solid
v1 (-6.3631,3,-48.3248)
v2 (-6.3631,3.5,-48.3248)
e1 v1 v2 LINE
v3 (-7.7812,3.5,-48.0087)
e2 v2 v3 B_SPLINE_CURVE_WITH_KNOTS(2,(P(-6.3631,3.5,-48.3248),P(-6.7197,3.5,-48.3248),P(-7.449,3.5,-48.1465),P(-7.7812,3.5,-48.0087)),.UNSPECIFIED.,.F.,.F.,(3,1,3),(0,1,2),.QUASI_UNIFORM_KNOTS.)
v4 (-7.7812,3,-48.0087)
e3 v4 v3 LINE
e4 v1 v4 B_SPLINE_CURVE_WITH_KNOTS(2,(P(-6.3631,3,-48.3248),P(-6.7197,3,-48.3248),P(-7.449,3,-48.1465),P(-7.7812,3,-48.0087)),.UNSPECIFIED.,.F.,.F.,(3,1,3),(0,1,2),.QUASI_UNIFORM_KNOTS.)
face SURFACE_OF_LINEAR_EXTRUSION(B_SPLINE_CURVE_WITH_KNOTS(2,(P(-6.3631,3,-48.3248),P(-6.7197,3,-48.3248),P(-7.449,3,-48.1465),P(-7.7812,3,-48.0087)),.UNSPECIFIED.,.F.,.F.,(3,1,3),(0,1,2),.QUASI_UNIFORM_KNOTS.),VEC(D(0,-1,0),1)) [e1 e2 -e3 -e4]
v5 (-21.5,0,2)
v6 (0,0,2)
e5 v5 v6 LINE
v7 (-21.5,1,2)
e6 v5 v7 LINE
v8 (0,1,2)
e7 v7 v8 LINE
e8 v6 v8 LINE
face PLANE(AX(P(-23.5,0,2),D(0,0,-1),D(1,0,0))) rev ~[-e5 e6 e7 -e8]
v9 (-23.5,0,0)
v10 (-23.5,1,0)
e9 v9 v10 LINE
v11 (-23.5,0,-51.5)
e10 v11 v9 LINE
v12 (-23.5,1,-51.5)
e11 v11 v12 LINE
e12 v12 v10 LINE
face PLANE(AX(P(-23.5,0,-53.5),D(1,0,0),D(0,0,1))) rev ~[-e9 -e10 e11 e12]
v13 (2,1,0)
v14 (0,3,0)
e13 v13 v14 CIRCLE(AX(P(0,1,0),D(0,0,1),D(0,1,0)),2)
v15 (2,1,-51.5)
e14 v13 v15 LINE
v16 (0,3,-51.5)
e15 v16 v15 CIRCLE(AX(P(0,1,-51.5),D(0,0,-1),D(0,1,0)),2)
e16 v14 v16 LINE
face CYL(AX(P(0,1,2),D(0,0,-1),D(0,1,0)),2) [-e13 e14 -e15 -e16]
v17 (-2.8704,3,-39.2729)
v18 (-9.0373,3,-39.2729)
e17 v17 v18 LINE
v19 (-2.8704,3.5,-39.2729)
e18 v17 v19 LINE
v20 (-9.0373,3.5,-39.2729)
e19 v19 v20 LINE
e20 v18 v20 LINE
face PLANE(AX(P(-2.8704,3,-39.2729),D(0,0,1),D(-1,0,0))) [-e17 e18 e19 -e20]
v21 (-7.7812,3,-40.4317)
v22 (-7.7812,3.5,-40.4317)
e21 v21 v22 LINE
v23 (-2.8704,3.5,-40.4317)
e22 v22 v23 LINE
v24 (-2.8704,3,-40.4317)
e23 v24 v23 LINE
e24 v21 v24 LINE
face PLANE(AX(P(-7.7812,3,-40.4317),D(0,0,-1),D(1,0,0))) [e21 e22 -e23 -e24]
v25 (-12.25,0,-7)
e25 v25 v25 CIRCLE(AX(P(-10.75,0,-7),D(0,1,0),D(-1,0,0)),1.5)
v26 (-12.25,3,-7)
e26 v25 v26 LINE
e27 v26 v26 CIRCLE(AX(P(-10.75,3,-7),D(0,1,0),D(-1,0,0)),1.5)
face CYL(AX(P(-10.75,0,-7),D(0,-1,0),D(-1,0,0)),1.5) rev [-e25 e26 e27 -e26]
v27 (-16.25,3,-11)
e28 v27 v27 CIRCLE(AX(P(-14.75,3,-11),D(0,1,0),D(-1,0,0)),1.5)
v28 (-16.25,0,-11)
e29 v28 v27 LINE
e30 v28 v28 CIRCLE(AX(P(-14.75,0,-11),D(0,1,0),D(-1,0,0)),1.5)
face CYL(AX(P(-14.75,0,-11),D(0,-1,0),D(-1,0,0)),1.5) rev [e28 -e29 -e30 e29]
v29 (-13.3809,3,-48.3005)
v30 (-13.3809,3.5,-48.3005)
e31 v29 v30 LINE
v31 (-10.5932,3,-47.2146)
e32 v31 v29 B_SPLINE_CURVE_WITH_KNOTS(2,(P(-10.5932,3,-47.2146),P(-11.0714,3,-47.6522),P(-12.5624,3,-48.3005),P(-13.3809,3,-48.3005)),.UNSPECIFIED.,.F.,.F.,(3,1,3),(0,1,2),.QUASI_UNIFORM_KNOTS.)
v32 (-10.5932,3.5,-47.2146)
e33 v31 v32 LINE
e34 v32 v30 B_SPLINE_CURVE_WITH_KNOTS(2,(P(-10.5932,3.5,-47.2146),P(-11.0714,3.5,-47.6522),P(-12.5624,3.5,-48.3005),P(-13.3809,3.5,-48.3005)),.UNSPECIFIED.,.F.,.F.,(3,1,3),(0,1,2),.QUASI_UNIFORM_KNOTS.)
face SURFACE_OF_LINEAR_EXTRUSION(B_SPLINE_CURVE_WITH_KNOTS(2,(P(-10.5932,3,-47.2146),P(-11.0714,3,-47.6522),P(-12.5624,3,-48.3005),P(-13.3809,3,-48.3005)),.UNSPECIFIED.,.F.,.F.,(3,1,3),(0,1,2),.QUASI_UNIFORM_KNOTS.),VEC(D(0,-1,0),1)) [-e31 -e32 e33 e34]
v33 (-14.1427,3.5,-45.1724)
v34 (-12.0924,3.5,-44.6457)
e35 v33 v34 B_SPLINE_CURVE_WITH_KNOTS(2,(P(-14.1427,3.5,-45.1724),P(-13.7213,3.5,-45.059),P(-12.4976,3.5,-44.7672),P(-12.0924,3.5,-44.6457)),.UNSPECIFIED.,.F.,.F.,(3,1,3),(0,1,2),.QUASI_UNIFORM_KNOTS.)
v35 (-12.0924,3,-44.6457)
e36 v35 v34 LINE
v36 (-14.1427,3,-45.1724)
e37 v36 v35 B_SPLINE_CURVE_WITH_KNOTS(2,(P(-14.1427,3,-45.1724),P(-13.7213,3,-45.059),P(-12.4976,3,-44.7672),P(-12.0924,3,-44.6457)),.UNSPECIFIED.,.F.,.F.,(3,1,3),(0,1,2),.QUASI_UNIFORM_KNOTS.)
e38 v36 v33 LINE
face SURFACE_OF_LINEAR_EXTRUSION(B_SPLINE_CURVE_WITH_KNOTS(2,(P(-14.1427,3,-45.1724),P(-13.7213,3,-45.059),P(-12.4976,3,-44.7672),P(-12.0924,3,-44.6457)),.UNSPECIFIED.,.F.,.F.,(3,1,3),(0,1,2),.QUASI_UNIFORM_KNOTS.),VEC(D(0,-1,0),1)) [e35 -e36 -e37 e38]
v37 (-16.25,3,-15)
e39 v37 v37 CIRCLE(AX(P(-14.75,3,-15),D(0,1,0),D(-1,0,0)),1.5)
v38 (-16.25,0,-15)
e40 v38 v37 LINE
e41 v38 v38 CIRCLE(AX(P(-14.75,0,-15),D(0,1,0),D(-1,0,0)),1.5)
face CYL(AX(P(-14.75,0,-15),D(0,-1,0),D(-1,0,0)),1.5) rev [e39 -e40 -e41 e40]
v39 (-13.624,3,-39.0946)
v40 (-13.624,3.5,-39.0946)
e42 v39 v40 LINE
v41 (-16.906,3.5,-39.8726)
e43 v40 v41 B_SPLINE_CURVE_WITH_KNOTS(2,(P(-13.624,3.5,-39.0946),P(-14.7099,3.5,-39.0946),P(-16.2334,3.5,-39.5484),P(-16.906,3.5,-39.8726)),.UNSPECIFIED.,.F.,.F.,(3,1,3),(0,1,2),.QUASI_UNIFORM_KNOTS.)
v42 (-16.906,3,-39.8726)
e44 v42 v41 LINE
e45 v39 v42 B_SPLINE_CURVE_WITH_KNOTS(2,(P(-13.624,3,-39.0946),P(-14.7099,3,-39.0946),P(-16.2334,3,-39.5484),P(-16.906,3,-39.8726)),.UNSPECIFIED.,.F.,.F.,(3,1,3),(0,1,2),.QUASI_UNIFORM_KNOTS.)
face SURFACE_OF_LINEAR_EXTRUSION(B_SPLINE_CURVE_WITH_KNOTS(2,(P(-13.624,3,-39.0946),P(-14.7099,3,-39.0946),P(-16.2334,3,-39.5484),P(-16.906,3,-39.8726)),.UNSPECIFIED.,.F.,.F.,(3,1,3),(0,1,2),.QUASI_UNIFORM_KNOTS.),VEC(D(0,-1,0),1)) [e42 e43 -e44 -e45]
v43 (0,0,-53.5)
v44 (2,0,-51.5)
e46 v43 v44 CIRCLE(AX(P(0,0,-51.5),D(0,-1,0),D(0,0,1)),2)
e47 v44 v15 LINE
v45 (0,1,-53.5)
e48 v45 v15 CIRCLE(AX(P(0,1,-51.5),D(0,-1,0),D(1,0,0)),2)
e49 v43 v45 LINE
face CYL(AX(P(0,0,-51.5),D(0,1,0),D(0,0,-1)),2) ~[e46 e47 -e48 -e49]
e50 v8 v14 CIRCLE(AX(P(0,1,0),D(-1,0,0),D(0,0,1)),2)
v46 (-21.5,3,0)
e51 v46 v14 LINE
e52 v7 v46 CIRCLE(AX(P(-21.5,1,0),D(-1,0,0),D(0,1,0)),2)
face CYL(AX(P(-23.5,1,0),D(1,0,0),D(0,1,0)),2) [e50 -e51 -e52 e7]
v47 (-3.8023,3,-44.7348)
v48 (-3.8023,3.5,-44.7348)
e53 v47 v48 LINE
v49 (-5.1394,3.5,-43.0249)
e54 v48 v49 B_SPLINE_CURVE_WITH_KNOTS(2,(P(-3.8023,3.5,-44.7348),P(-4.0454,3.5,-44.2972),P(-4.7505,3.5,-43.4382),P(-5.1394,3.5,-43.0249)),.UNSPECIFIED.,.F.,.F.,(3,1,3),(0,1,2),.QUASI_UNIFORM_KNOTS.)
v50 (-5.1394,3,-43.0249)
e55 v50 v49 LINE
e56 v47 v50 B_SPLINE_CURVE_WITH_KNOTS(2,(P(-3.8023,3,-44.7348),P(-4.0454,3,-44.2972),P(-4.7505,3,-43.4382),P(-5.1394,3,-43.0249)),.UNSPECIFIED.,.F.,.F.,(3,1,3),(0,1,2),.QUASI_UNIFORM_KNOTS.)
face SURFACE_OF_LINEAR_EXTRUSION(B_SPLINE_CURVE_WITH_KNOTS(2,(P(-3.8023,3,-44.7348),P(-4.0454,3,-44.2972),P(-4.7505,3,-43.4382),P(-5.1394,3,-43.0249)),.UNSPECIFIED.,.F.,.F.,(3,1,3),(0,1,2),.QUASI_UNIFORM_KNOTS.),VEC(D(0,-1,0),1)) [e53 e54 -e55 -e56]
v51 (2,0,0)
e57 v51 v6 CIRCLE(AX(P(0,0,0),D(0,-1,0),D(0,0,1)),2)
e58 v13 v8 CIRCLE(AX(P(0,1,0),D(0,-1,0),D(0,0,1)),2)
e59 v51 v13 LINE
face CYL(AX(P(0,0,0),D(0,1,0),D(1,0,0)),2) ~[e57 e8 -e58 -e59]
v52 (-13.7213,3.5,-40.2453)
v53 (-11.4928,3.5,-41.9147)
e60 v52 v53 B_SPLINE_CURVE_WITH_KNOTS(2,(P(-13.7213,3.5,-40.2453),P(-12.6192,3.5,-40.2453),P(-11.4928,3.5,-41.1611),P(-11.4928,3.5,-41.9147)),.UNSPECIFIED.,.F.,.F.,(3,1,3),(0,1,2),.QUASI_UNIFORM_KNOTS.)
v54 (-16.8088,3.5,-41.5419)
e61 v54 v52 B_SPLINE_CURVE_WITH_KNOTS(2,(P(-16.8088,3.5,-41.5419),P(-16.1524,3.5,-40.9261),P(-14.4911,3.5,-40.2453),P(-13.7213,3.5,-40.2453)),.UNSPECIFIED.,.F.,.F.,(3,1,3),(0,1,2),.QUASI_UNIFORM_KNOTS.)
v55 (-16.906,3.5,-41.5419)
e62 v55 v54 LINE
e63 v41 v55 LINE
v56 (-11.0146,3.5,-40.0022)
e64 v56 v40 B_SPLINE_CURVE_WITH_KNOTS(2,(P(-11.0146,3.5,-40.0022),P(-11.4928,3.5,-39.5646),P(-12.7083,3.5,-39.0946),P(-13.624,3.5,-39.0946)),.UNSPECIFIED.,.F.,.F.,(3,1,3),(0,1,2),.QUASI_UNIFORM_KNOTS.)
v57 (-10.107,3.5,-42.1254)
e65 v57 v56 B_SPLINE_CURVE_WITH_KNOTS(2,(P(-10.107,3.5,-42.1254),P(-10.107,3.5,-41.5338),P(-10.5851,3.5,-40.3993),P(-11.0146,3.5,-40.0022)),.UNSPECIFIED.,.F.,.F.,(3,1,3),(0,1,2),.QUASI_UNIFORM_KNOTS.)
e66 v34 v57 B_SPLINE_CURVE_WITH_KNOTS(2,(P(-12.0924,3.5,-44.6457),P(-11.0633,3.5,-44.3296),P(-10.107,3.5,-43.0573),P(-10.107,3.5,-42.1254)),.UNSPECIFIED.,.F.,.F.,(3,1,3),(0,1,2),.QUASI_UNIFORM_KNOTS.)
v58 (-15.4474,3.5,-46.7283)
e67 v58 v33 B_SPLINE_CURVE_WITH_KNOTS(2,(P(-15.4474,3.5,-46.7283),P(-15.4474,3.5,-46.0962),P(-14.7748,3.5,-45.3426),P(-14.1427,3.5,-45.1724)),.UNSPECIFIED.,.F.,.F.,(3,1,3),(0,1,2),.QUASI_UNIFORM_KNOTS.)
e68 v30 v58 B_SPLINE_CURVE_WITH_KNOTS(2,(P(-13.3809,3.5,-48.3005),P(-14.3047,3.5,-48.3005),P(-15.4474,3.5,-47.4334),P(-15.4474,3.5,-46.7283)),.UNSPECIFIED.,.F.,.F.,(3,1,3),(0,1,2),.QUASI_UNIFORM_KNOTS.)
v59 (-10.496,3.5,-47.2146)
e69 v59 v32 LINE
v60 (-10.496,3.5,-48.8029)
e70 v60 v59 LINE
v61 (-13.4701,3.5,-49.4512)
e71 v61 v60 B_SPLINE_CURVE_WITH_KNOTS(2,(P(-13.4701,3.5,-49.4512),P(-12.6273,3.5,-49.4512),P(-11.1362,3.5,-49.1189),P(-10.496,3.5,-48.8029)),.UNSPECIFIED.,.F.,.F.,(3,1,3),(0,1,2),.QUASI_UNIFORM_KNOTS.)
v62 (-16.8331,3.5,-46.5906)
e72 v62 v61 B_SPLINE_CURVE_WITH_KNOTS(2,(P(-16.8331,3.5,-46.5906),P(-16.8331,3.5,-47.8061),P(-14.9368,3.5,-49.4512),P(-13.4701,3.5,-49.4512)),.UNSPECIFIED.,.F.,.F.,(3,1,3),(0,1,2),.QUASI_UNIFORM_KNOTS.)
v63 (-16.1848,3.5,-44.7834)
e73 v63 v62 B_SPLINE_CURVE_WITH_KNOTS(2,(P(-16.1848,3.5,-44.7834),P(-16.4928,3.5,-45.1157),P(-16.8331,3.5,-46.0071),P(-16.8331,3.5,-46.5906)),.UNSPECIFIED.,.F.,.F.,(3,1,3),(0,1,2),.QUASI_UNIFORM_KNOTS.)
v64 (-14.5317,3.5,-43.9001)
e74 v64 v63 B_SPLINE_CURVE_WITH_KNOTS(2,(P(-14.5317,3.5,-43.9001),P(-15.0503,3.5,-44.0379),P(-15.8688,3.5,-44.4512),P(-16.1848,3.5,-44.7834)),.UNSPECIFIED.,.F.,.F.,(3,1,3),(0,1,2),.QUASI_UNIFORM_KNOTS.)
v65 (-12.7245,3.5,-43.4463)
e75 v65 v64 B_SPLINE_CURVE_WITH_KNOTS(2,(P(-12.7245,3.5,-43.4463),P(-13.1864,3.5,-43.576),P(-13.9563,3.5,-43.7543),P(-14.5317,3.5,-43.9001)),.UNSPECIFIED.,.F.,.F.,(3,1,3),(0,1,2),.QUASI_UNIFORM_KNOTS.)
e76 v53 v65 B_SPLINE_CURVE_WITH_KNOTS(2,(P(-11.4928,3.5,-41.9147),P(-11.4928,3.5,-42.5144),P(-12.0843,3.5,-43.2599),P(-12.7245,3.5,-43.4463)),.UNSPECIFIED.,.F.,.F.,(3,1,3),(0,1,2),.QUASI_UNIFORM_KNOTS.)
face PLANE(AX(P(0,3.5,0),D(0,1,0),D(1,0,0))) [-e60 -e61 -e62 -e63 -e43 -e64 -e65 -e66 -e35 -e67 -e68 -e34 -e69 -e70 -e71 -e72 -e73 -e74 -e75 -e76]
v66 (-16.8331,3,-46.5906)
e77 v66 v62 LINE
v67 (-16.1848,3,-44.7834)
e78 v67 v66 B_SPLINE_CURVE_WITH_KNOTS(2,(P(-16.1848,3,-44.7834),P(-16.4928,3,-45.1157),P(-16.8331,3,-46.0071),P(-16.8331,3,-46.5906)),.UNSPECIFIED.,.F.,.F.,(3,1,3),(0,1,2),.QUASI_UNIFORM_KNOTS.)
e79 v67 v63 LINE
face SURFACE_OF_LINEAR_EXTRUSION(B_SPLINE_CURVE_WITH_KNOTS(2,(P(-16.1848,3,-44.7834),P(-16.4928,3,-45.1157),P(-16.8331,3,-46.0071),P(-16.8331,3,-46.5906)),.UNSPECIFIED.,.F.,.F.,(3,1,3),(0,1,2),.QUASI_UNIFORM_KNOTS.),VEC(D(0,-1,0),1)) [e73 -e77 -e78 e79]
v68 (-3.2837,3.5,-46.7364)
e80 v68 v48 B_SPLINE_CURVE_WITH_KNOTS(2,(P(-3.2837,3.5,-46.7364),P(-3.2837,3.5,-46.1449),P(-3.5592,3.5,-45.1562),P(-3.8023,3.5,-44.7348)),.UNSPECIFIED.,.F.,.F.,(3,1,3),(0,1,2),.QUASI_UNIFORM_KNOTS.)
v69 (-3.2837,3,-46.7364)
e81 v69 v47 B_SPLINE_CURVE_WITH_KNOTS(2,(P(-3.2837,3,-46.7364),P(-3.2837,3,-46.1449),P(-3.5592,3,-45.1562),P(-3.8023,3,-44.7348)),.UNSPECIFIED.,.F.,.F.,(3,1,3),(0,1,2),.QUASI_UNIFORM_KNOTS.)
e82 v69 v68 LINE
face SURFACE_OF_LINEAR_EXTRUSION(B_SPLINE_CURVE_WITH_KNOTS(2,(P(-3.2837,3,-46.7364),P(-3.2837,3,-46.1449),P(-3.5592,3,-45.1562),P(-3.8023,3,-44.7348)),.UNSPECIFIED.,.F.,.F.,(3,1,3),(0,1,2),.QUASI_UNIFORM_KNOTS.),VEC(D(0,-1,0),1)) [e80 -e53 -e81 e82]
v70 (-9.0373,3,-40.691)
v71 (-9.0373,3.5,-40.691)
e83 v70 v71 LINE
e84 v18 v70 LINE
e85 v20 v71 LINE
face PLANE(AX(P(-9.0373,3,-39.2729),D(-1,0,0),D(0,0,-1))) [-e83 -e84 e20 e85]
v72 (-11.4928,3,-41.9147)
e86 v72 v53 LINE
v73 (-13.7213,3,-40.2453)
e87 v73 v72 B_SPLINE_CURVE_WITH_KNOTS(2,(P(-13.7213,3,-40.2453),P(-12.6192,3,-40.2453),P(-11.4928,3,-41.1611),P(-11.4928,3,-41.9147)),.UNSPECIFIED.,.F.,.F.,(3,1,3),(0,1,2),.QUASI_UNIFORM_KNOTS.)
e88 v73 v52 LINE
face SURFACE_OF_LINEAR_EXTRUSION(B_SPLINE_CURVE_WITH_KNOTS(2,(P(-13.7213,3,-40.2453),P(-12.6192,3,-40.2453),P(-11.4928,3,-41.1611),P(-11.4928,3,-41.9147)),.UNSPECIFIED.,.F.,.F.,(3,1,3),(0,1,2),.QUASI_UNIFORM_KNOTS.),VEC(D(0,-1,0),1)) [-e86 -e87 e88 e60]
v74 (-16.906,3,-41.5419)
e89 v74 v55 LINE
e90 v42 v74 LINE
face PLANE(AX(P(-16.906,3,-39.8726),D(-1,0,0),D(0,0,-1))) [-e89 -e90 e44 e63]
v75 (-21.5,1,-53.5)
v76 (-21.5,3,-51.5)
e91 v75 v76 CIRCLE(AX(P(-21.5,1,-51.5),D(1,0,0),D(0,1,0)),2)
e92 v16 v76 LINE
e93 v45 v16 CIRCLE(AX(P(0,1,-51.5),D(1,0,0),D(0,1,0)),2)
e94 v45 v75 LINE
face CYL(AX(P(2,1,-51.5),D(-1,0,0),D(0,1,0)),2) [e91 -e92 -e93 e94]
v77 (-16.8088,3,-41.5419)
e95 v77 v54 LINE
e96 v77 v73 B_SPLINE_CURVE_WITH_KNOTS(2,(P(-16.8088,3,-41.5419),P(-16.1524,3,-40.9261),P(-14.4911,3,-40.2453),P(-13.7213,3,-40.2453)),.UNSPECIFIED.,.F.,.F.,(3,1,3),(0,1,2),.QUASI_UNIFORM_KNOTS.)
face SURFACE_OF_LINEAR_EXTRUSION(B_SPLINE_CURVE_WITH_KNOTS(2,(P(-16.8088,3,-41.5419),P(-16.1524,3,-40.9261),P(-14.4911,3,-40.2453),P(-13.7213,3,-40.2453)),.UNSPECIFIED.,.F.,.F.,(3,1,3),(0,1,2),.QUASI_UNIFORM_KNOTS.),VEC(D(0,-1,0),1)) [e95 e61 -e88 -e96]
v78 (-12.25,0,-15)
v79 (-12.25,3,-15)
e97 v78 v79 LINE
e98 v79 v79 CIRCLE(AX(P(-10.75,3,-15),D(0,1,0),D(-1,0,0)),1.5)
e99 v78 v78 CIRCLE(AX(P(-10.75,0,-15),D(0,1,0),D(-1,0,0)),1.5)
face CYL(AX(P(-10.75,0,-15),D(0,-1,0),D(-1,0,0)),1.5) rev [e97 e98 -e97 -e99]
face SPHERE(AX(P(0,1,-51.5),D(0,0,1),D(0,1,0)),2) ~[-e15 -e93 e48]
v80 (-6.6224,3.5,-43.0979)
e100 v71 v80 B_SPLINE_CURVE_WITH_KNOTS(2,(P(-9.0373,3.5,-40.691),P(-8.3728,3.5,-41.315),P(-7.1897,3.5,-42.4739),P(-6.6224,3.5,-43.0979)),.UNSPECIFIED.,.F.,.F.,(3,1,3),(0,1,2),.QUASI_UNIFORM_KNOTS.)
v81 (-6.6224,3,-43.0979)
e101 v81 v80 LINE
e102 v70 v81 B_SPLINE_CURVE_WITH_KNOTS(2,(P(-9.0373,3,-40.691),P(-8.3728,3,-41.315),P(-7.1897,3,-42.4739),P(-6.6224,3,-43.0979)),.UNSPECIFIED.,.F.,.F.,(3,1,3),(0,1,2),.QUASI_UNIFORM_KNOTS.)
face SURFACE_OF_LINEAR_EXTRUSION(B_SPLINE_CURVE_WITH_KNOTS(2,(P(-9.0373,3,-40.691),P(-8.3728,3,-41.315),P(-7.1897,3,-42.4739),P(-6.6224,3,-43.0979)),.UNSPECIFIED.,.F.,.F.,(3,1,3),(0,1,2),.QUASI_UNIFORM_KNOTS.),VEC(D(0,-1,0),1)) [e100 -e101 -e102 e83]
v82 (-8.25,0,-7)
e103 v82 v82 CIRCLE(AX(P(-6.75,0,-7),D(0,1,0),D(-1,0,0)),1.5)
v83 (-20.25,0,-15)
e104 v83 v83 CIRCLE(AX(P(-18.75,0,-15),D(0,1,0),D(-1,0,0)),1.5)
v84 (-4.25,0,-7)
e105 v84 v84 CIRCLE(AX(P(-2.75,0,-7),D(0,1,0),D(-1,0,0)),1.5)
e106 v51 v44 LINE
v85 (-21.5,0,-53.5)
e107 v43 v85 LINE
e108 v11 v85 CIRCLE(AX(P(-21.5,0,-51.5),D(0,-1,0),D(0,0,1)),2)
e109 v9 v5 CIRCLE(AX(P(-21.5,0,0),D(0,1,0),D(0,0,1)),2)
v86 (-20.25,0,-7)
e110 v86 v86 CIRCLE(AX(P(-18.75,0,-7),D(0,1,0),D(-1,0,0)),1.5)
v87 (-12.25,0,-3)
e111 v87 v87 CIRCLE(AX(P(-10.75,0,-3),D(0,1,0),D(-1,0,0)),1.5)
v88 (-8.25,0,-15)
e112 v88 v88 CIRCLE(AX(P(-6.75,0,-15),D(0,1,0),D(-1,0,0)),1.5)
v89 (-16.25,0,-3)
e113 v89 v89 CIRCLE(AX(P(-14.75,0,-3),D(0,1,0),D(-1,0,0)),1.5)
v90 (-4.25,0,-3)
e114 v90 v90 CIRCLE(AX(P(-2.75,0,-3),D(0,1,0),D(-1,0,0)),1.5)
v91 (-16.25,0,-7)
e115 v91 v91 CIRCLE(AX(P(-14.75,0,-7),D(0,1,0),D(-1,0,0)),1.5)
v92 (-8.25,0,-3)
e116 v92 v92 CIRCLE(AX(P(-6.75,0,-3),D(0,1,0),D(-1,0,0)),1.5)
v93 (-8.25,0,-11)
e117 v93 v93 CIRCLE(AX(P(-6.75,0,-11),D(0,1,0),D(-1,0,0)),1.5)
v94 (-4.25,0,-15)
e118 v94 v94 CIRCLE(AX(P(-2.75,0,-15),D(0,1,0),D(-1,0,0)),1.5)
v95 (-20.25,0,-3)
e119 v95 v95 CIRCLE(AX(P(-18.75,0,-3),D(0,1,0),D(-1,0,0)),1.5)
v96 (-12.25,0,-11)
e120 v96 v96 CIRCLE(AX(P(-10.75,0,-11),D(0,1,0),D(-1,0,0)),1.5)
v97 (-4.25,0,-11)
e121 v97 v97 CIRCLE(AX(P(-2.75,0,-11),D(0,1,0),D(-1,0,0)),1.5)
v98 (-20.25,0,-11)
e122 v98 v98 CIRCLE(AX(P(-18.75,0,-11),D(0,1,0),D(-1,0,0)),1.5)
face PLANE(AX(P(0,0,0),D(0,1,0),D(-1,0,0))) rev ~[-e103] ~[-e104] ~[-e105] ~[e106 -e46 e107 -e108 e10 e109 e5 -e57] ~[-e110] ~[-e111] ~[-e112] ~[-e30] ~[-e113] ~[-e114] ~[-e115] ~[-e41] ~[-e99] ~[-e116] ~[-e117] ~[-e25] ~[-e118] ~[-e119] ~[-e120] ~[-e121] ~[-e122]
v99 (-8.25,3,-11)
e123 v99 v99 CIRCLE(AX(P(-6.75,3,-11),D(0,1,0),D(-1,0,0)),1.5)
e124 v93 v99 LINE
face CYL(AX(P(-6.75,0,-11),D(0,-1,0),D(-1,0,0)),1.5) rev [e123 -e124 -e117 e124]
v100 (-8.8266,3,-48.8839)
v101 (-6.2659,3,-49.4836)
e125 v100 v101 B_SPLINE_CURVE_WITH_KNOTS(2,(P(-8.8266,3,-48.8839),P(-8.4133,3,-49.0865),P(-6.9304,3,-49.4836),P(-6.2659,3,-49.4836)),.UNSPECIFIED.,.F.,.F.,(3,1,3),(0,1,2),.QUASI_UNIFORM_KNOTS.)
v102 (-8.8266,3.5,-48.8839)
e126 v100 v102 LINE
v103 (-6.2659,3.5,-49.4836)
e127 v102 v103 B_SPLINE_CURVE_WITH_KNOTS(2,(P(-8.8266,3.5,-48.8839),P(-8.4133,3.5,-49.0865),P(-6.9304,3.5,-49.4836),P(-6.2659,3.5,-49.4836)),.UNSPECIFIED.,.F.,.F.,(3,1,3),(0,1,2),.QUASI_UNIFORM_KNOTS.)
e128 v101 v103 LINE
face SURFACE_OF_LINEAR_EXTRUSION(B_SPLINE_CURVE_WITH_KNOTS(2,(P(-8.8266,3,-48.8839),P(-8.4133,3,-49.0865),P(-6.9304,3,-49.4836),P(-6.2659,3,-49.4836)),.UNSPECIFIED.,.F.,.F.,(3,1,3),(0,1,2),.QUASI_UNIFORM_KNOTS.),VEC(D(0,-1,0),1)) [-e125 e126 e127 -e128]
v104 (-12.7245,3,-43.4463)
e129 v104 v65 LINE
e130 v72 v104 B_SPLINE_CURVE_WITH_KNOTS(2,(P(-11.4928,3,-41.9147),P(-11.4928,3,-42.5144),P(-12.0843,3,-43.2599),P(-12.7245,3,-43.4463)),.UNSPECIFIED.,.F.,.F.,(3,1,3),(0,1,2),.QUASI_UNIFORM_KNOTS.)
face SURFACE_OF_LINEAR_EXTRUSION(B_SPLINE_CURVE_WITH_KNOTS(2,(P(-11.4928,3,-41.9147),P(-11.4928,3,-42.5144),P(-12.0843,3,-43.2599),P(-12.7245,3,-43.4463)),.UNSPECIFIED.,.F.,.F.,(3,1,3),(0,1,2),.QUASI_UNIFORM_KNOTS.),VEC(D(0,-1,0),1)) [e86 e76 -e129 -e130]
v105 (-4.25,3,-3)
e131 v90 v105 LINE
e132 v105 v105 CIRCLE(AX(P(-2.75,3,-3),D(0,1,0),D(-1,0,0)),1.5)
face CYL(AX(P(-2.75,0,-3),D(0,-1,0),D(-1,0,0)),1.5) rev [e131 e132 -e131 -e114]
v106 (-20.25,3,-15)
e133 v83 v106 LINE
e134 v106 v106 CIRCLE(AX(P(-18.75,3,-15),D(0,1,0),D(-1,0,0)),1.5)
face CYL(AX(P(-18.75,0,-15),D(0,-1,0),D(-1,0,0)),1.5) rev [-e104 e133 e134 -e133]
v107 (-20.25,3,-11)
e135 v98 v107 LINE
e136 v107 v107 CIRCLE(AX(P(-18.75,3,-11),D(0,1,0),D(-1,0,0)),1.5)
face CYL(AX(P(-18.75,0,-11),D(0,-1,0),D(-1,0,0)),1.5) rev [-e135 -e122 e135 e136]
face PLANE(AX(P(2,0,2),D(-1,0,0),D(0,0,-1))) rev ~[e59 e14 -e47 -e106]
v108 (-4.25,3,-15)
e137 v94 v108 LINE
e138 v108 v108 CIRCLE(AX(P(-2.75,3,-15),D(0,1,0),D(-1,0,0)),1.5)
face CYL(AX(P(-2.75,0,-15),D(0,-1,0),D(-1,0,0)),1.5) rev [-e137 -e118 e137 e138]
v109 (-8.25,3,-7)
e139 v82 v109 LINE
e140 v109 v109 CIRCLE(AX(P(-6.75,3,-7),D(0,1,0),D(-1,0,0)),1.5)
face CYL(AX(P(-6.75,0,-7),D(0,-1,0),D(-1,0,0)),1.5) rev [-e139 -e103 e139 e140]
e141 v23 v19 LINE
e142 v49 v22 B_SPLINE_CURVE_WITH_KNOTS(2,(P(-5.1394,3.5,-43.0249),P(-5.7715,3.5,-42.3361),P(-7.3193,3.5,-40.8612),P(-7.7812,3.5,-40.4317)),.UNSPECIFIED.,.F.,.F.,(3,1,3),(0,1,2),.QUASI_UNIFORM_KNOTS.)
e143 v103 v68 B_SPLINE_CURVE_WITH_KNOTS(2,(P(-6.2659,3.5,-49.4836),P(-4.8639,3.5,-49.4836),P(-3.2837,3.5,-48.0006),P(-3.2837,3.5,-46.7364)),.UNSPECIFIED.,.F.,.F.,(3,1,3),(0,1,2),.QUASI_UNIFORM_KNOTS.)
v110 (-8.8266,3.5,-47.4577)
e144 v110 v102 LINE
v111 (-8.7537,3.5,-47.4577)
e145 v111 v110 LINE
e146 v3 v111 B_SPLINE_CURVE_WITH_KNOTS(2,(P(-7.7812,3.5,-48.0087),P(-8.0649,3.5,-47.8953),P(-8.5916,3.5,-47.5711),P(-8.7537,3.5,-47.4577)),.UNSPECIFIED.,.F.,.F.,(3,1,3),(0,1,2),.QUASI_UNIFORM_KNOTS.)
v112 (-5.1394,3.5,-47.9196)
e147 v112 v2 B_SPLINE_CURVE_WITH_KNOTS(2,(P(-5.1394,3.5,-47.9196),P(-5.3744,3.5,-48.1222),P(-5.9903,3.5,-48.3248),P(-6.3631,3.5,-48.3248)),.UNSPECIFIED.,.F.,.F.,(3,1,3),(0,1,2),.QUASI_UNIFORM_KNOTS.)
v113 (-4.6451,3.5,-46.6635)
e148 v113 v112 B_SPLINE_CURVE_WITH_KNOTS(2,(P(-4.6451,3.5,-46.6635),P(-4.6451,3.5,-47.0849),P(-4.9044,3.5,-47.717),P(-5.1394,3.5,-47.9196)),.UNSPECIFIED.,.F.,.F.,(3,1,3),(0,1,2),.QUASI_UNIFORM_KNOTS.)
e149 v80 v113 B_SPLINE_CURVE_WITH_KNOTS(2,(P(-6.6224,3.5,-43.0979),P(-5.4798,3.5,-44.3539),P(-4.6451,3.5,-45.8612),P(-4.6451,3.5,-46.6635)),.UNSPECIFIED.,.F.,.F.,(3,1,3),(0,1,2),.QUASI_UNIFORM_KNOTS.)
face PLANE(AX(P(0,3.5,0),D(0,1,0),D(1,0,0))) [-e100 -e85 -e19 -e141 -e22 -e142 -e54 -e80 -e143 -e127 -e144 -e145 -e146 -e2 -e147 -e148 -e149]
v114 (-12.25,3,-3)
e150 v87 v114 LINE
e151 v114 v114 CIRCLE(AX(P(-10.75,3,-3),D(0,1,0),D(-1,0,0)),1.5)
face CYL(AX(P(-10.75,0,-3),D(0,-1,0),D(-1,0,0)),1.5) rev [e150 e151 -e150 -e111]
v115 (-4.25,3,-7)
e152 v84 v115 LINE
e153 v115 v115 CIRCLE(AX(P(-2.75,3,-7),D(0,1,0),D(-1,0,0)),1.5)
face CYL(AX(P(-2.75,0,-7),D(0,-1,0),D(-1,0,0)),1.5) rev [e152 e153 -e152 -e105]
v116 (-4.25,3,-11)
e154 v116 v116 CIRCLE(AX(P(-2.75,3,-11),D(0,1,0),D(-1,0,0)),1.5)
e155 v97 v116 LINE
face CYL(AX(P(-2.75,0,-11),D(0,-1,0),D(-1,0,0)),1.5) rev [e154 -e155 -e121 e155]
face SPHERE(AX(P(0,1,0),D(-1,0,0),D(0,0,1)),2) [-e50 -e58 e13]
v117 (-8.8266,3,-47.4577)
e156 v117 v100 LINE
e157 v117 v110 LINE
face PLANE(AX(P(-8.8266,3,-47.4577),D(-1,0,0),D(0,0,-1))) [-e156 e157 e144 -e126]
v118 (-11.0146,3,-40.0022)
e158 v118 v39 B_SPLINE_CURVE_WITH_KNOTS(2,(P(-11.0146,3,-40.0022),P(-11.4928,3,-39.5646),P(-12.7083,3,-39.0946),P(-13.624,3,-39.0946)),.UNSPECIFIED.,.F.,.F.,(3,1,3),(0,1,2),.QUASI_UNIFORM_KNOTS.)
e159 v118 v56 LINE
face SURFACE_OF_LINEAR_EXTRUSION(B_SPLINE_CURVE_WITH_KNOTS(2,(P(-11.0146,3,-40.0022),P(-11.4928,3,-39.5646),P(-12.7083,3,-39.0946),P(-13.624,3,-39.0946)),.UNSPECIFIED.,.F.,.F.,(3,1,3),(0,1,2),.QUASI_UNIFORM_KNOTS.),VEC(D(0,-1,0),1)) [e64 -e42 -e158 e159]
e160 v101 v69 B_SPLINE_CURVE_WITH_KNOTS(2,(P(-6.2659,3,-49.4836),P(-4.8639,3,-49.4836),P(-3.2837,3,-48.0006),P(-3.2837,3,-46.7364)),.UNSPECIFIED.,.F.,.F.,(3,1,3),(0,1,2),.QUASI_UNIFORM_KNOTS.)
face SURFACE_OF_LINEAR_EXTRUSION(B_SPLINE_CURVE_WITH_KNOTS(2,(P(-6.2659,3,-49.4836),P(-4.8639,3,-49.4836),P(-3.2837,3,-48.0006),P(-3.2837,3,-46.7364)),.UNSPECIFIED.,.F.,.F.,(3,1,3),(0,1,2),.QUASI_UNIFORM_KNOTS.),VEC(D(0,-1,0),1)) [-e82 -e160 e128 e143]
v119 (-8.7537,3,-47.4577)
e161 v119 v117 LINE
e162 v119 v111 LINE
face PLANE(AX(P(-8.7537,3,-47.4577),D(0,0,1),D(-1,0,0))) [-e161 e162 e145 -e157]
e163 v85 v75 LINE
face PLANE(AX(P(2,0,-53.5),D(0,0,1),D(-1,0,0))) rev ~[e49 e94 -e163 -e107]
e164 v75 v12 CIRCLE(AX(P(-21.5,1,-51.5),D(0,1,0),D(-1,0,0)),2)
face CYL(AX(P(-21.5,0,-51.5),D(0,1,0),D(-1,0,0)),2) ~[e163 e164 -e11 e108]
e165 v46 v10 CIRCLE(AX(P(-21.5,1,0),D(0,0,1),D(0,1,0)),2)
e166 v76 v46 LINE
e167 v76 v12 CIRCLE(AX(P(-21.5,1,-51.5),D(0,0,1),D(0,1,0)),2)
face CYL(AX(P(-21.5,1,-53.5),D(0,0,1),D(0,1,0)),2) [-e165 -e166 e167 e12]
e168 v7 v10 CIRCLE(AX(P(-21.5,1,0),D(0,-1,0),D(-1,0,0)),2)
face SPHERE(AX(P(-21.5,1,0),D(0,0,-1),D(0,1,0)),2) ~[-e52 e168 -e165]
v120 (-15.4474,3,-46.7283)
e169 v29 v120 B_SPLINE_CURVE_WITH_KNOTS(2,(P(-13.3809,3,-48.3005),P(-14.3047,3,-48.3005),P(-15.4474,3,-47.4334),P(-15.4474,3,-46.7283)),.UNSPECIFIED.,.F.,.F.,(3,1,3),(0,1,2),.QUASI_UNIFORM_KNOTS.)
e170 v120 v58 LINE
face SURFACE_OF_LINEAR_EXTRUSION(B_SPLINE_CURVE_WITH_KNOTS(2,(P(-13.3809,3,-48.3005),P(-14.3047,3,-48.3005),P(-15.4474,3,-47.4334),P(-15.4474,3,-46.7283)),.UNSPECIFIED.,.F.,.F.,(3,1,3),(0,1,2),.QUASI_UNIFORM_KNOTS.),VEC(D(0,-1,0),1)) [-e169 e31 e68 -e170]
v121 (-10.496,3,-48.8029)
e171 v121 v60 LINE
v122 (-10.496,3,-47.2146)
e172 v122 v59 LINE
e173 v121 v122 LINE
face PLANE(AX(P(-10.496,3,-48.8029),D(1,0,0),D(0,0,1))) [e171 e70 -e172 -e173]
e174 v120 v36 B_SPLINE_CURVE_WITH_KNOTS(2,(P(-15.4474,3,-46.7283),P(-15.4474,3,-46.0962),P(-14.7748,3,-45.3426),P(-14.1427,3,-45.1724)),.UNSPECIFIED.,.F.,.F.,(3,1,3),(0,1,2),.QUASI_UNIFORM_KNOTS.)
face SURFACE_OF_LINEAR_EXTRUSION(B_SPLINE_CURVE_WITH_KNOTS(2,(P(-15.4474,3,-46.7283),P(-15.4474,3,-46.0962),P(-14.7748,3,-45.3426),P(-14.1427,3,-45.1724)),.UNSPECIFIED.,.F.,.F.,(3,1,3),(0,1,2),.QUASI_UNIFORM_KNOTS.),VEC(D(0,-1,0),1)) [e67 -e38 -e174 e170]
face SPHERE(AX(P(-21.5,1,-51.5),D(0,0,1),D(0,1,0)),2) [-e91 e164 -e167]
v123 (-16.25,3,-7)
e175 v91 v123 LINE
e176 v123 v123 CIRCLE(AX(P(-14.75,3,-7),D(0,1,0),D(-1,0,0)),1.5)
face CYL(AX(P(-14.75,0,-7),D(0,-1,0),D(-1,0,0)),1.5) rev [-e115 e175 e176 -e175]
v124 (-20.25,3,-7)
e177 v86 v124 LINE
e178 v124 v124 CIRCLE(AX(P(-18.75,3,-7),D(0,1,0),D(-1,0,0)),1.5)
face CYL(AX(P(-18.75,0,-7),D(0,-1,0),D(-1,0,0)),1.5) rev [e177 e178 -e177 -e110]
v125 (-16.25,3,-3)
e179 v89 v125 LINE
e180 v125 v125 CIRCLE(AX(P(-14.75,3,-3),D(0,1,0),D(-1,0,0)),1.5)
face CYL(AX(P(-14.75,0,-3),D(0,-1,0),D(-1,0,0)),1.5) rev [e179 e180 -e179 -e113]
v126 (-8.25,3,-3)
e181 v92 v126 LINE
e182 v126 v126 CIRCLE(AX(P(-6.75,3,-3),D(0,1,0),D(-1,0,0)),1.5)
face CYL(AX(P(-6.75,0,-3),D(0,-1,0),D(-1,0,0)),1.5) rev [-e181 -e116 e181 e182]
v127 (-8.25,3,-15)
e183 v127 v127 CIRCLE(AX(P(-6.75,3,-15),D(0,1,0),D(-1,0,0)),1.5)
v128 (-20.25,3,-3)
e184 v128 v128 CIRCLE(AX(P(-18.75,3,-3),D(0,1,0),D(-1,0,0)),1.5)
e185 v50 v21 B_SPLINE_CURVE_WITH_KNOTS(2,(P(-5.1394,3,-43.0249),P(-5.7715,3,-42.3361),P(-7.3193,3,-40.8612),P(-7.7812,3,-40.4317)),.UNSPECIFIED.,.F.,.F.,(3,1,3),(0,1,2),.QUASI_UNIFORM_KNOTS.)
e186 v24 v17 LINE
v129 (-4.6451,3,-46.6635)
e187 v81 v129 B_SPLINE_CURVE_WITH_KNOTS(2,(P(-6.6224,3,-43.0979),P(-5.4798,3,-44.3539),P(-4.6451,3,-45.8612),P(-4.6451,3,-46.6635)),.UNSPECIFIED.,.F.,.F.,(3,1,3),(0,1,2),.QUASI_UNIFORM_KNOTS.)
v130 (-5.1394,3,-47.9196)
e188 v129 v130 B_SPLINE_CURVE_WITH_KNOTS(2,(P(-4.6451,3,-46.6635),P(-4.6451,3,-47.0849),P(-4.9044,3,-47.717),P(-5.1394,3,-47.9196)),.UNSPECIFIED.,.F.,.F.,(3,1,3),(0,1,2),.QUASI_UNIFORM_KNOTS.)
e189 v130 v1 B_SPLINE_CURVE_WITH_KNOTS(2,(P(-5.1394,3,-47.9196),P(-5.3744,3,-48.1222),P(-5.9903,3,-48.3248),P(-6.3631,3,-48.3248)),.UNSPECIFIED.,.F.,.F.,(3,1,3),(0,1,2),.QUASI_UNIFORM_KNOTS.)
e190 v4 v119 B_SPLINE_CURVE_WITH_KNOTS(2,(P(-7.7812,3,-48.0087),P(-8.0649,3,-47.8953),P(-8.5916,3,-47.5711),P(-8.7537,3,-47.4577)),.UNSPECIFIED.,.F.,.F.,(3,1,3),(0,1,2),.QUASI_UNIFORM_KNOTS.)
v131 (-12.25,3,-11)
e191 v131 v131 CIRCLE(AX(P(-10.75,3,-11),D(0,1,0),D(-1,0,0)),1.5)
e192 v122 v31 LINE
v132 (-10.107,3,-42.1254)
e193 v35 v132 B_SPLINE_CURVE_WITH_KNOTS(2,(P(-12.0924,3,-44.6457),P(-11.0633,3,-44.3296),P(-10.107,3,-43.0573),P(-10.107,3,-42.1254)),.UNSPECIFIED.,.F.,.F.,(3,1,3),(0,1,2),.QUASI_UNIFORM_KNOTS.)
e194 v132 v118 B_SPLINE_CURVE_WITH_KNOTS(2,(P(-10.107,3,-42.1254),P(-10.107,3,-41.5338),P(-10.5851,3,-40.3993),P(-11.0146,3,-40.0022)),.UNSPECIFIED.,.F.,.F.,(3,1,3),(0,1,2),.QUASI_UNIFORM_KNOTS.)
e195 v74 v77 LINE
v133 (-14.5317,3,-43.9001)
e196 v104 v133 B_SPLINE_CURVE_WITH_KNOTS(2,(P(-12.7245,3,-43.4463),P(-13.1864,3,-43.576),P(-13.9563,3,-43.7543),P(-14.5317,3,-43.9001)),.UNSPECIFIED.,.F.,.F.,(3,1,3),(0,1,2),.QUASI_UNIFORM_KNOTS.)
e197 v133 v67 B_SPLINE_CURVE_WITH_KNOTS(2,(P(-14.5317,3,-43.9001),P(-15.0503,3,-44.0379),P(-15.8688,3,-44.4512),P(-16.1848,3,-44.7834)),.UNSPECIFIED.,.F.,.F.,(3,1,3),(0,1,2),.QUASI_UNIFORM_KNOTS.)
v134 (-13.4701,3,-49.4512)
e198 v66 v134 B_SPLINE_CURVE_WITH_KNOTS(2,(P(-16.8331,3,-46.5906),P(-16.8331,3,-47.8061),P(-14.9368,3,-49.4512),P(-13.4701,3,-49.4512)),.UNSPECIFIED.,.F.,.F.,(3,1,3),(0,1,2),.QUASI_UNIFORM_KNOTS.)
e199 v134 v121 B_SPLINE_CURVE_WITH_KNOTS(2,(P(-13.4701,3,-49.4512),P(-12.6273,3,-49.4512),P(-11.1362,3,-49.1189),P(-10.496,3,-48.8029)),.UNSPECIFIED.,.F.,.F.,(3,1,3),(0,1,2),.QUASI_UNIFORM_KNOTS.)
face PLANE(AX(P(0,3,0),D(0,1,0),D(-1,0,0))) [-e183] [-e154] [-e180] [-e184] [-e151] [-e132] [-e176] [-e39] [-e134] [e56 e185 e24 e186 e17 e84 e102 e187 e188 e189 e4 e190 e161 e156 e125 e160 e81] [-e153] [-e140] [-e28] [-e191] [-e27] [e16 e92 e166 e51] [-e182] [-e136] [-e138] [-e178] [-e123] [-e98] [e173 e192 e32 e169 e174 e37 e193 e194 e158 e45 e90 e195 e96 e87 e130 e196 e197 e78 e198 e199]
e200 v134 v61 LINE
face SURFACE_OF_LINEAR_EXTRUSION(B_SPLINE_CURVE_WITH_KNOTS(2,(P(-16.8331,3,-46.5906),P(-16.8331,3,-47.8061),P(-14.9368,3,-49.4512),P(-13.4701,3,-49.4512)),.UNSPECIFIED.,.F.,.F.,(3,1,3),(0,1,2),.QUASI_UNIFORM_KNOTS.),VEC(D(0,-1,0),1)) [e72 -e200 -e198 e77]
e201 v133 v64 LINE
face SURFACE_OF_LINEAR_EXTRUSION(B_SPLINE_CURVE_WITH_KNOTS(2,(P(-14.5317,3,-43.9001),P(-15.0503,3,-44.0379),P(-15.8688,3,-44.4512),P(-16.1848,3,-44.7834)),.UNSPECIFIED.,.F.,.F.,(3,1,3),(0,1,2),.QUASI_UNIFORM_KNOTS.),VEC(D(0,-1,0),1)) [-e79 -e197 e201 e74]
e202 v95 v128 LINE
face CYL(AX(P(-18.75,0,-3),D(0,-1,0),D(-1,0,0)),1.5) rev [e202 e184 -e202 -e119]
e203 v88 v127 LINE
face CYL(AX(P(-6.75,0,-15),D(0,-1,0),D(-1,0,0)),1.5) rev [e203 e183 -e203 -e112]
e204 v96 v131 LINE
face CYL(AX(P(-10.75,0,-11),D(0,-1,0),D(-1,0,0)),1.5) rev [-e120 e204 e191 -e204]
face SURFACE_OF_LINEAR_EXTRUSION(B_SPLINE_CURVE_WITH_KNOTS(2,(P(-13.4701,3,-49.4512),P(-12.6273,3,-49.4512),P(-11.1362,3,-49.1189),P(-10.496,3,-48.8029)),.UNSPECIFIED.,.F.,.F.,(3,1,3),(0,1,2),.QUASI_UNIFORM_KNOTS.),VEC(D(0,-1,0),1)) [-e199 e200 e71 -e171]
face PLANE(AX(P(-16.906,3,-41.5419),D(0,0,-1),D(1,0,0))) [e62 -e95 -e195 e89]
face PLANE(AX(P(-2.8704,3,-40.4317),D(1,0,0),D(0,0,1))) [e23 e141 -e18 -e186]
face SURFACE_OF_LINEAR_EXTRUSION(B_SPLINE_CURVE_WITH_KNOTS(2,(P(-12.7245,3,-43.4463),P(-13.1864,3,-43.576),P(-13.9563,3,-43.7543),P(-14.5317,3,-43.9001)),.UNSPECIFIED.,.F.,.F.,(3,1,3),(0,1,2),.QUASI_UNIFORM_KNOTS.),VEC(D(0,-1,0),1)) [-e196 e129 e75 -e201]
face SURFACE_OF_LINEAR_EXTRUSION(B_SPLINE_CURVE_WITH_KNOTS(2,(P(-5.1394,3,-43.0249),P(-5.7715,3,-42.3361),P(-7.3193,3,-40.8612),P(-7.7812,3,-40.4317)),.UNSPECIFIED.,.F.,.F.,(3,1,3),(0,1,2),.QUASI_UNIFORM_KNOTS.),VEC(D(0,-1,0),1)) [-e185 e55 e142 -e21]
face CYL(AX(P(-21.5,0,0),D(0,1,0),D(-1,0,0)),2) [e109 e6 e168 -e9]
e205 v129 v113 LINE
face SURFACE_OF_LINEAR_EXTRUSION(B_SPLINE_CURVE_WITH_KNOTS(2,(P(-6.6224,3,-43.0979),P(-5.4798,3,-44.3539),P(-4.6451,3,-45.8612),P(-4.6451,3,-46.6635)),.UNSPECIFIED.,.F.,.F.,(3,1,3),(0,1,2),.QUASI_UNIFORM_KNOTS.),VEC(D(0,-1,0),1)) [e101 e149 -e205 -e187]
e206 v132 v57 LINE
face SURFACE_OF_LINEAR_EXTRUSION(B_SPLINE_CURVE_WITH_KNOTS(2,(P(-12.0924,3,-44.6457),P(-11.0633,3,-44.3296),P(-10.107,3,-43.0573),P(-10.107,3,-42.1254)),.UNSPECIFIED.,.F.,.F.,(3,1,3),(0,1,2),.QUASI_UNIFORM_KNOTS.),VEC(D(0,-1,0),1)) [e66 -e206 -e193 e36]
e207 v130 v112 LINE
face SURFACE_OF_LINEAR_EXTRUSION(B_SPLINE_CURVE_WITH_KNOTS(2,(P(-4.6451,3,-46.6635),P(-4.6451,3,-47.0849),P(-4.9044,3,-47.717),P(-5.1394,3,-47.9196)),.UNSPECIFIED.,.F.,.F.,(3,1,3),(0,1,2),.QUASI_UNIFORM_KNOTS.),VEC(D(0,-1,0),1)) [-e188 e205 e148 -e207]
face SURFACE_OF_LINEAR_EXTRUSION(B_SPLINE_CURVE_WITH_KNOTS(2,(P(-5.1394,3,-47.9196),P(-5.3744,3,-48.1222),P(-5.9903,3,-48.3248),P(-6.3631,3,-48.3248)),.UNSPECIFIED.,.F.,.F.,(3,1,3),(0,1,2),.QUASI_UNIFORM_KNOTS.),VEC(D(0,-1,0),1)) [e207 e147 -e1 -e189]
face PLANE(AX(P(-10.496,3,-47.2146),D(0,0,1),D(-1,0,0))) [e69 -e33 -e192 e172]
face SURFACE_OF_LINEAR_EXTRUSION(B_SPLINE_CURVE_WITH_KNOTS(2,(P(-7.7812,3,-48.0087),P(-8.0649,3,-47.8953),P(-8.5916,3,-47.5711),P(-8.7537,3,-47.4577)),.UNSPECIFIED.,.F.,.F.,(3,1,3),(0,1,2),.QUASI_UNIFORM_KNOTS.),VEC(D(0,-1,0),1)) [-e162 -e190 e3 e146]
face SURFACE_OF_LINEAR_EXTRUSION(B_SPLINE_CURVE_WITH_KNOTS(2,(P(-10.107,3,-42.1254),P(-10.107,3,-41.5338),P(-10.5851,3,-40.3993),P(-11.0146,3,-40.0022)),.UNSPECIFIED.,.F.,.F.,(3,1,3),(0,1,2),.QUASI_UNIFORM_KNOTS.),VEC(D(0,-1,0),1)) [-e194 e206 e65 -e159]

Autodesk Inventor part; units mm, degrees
ref_plane "YZ Plane" through (0, 0, 0) normal (1, 0, 0) x (0, 1, 0)
ref_plane "XZ Plane" through (0, 0, 0) normal (0, 1, 0) x (-1, 0, 0)
ref_plane "XY Plane" through (0, 0, 0) normal (0, 0, 1) x (1, 0, 0)
sketch "Sketch1" plane through (0, 0, 0) normal (0, 1, 0) x (-1, 0, 0)
  line L0 (0, 0) -> (21.5, 0)
  line L1 (21.5, 0) -> (21.5, -51.5)
  line L2 (21.5, -51.5) -> (0, -51.5)
  line L3 (0, -51.5) -> (0, 0)
  line L4 (23.5, 2) -> (-2, 2)
  line L5 (-2, 2) -> (-2, -53.5)
  line L6 (-2, -53.5) -> (23.5, -53.5)
  line L7 (23.5, -53.5) -> (23.5, 2)
  line L8 (10.75, 0) -> (10.75, -51.5) construction
  circle A0 centre (10.75, -3) radius 1.5
  line L9 (0, -3) -> (21.5, -3) construction
  circle A1 centre (14.75, -3) radius 1.5
  circle A2 centre (18.75, -3) radius 1.5
  circle A3 centre (6.75, -3) radius 1.5
  circle A4 centre (2.75, -3) radius 1.5
  circle A5 centre (18.75, -7) radius 1.5
  circle A6 centre (14.75, -7) radius 1.5
  circle A7 centre (10.75, -7) radius 1.5
  circle A8 centre (6.75, -7) radius 1.5
  circle A9 centre (2.75, -7) radius 1.5
  circle A10 centre (18.75, -11) radius 1.5
  circle A11 centre (14.75, -11) radius 1.5
  circle A12 centre (10.75, -11) radius 1.5
  circle A13 centre (6.75, -11) radius 1.5
  circle A14 centre (2.75, -11) radius 1.5
  circle A15 centre (18.75, -15) radius 1.5
  circle A16 centre (14.75, -15) radius 1.5
  circle A17 centre (10.75, -15) radius 1.5
  circle A18 centre (6.75, -15) radius 1.5
  circle A19 centre (2.75, -15) radius 1.5
  point P0 (10.75, -3)
  point P1 (10.75, -7)
  point P2 (10.75, -11)
  point P3 (10.75, -15)
  dimension "d0" = 21.5
  dimension "d1" = 51.5
  dimension "d2" = 2
  dimension "d3" = 2
  dimension "d4" = 2
  dimension "d5" = 2
  dimension "d6" = 3
  dimension "d8" = 3
  dimension "d9" = 3
  dimension "d10" = 3
  dimension "d11" = 3
  dimension "d12" = 3
  dimension "d13" = 4
  dimension "d14" = 4
  dimension "d15" = 4
  dimension "d16" = 4
  dimension "d19" = 4
extrude "Extrusion1" add sketch "Sketch1" along normal blind 3 contours L0 L1 L2 L3 | L7 L6 L5 L4
fillet "Fillet1" radius 2 8 edges at (-23.5, 3, -25.75) (-10.75, 3, 2) (-23.5, 1.5, 2) (2, 1.5, 2) (2, 3, -25.75) (-10.75, 3, -53.5) (-23.5, 1.5, -53.5) (2, 1.5, -53.5)
sketch "Sketch2" plane through (0, 3, 0) normal (0, 1, 0) x (1, 0, 0)
  line L0 (-17.4247, 49.4836) -> (-8.1758, 49.4836) construction
  line L1 (-8.1758, 49.4836) -> (-8.1758, 43.1661) construction
  line L2 (-8.1758, 43.1661) -> (-17.4247, 43.1661) construction
  line L3 (-17.4247, 43.1661) -> (-17.4247, 49.4836) construction
  spline S0 degree 2 poles (-13.624, 39.0946) (-14.7099, 39.0946) (-16.2334, 39.5484) (-16.906, 39.8726) knots 0 0 0 1 2 2 2
  line L4 (-16.906, 39.8726) -> (-16.906, 41.5419)
  line L5 (-16.906, 41.5419) -> (-16.8088, 41.5419)
  spline S1 degree 2 poles (-16.8088, 41.5419) (-16.1524, 40.9261) (-14.4911, 40.2453) (-13.7213, 40.2453) knots 0 0 0 1 2 2 2
  spline S2 degree 2 poles (-13.7213, 40.2453) (-12.6192, 40.2453) (-11.4928, 41.1611) (-11.4928, 41.9147) knots 0 0 0 1 2 2 2
  spline S3 degree 2 poles (-11.4928, 41.9147) (-11.4928, 42.5144) (-12.0843, 43.2599) (-12.7245, 43.4463) knots 0 0 0 1 2 2 2
  spline S4 degree 2 poles (-12.7245, 43.4463) (-13.1864, 43.576) (-13.9563, 43.7543) (-14.5317, 43.9001) knots 0 0 0 1 2 2 2
  spline S5 degree 2 poles (-14.5317, 43.9001) (-15.0503, 44.0379) (-15.8688, 44.4512) (-16.1848, 44.7834) knots 0 0 0 1 2 2 2
  spline S6 degree 2 poles (-16.1848, 44.7834) (-16.4928, 45.1157) (-16.8331, 46.0071) (-16.8331, 46.5906) knots 0 0 0 1 2 2 2
  spline S7 degree 2 poles (-16.8331, 46.5906) (-16.8331, 47.8061) (-14.9368, 49.4512) (-13.4701, 49.4512) knots 0 0 0 1 2 2 2
  spline S8 degree 2 poles (-13.4701, 49.4512) (-12.6273, 49.4512) (-11.1362, 49.1189) (-10.496, 48.8029) knots 0 0 0 1 2 2 2
  line L6 (-10.496, 48.8029) -> (-10.496, 47.2146)
  line L7 (-10.496, 47.2146) -> (-10.5932, 47.2146)
  spline S9 degree 2 poles (-10.5932, 47.2146) (-11.0714, 47.6522) (-12.5624, 48.3005) (-13.3809, 48.3005) knots 0 0 0 1 2 2 2
  spline S10 degree 2 poles (-13.3809, 48.3005) (-14.3047, 48.3005) (-15.4474, 47.4334) (-15.4474, 46.7283) knots 0 0 0 1 2 2 2
  spline S11 degree 2 poles (-15.4474, 46.7283) (-15.4474, 46.0962) (-14.7748, 45.3426) (-14.1427, 45.1724) knots 0 0 0 1 2 2 2
  spline S12 degree 2 poles (-14.1427, 45.1724) (-13.7213, 45.059) (-12.4976, 44.7672) (-12.0924, 44.6457) knots 0 0 0 1 2 2 2
  spline S13 degree 2 poles (-12.0924, 44.6457) (-11.0633, 44.3296) (-10.107, 43.0573) (-10.107, 42.1254) knots 0 0 0 1 2 2 2
  spline S14 degree 2 poles (-10.107, 42.1254) (-10.107, 41.5338) (-10.5851, 40.3993) (-11.0146, 40.0022) knots 0 0 0 1 2 2 2
  spline S15 degree 2 poles (-11.0146, 40.0022) (-11.4928, 39.5646) (-12.7083, 39.0946) (-13.624, 39.0946) knots 0 0 0 1 2 2 2
  line L8 (-2.8704, 39.2729) -> (-9.0373, 39.2729)
  line L9 (-9.0373, 39.2729) -> (-9.0373, 40.691)
  spline S16 degree 2 poles (-9.0373, 40.691) (-8.3728, 41.315) (-7.1897, 42.4739) (-6.6224, 43.0979) knots 0 0 0 1 2 2 2
  spline S17 degree 2 poles (-6.6224, 43.0979) (-5.4798, 44.3539) (-4.6451, 45.8612) (-4.6451, 46.6635) knots 0 0 0 1 2 2 2
  spline S18 degree 2 poles (-4.6451, 46.6635) (-4.6451, 47.0849) (-4.9044, 47.717) (-5.1394, 47.9196) knots 0 0 0 1 2 2 2
  spline S19 degree 2 poles (-5.1394, 47.9196) (-5.3744, 48.1222) (-5.9903, 48.3248) (-6.3631, 48.3248) knots 0 0 0 1 2 2 2
  spline S20 degree 2 poles (-6.3631, 48.3248) (-6.7197, 48.3248) (-7.449, 48.1465) (-7.7812, 48.0087) knots 0 0 0 1 2 2 2
  spline S21 degree 2 poles (-7.7812, 48.0087) (-8.0649, 47.8953) (-8.5916, 47.5711) (-8.7537, 47.4577) knots 0 0 0 1 2 2 2
  line L10 (-8.7537, 47.4577) -> (-8.8266, 47.4577)
  line L11 (-8.8266, 47.4577) -> (-8.8266, 48.8839)
  spline S22 degree 2 poles (-8.8266, 48.8839) (-8.4133, 49.0865) (-6.9304, 49.4836) (-6.2659, 49.4836) knots 0 0 0 1 2 2 2
  spline S23 degree 2 poles (-6.2659, 49.4836) (-4.8639, 49.4836) (-3.2837, 48.0006) (-3.2837, 46.7364) knots 0 0 0 1 2 2 2
  spline S24 degree 2 poles (-3.2837, 46.7364) (-3.2837, 46.1449) (-3.5592, 45.1562) (-3.8023, 44.7348) knots 0 0 0 1 2 2 2
  spline S25 degree 2 poles (-3.8023, 44.7348) (-4.0454, 44.2972) (-4.7505, 43.4382) (-5.1394, 43.0249) knots 0 0 0 1 2 2 2
  spline S26 degree 2 poles (-5.1394, 43.0249) (-5.7715, 42.3361) (-7.3193, 40.8612) (-7.7812, 40.4317) knots 0 0 0 1 2 2 2
  line L12 (-7.7812, 40.4317) -> (-2.8704, 40.4317)
  line L13 (-2.8704, 40.4317) -> (-2.8704, 39.2729)
  point P0 (0, 0)
extrude "Extrusion2" add sketch "Sketch2" along normal blind 0.5
equation "\"d8\" = d6"
equation "\"d9\" = d11"
equation "\"d10\" = d11"
equation "\"d11\" = d6"
equation "\"d12\" = d11"
equation "\"d14\" = d13"
equation "\"d15\" = d13"
equation "\"d16\" = d15"
properties part number "sensor2"
